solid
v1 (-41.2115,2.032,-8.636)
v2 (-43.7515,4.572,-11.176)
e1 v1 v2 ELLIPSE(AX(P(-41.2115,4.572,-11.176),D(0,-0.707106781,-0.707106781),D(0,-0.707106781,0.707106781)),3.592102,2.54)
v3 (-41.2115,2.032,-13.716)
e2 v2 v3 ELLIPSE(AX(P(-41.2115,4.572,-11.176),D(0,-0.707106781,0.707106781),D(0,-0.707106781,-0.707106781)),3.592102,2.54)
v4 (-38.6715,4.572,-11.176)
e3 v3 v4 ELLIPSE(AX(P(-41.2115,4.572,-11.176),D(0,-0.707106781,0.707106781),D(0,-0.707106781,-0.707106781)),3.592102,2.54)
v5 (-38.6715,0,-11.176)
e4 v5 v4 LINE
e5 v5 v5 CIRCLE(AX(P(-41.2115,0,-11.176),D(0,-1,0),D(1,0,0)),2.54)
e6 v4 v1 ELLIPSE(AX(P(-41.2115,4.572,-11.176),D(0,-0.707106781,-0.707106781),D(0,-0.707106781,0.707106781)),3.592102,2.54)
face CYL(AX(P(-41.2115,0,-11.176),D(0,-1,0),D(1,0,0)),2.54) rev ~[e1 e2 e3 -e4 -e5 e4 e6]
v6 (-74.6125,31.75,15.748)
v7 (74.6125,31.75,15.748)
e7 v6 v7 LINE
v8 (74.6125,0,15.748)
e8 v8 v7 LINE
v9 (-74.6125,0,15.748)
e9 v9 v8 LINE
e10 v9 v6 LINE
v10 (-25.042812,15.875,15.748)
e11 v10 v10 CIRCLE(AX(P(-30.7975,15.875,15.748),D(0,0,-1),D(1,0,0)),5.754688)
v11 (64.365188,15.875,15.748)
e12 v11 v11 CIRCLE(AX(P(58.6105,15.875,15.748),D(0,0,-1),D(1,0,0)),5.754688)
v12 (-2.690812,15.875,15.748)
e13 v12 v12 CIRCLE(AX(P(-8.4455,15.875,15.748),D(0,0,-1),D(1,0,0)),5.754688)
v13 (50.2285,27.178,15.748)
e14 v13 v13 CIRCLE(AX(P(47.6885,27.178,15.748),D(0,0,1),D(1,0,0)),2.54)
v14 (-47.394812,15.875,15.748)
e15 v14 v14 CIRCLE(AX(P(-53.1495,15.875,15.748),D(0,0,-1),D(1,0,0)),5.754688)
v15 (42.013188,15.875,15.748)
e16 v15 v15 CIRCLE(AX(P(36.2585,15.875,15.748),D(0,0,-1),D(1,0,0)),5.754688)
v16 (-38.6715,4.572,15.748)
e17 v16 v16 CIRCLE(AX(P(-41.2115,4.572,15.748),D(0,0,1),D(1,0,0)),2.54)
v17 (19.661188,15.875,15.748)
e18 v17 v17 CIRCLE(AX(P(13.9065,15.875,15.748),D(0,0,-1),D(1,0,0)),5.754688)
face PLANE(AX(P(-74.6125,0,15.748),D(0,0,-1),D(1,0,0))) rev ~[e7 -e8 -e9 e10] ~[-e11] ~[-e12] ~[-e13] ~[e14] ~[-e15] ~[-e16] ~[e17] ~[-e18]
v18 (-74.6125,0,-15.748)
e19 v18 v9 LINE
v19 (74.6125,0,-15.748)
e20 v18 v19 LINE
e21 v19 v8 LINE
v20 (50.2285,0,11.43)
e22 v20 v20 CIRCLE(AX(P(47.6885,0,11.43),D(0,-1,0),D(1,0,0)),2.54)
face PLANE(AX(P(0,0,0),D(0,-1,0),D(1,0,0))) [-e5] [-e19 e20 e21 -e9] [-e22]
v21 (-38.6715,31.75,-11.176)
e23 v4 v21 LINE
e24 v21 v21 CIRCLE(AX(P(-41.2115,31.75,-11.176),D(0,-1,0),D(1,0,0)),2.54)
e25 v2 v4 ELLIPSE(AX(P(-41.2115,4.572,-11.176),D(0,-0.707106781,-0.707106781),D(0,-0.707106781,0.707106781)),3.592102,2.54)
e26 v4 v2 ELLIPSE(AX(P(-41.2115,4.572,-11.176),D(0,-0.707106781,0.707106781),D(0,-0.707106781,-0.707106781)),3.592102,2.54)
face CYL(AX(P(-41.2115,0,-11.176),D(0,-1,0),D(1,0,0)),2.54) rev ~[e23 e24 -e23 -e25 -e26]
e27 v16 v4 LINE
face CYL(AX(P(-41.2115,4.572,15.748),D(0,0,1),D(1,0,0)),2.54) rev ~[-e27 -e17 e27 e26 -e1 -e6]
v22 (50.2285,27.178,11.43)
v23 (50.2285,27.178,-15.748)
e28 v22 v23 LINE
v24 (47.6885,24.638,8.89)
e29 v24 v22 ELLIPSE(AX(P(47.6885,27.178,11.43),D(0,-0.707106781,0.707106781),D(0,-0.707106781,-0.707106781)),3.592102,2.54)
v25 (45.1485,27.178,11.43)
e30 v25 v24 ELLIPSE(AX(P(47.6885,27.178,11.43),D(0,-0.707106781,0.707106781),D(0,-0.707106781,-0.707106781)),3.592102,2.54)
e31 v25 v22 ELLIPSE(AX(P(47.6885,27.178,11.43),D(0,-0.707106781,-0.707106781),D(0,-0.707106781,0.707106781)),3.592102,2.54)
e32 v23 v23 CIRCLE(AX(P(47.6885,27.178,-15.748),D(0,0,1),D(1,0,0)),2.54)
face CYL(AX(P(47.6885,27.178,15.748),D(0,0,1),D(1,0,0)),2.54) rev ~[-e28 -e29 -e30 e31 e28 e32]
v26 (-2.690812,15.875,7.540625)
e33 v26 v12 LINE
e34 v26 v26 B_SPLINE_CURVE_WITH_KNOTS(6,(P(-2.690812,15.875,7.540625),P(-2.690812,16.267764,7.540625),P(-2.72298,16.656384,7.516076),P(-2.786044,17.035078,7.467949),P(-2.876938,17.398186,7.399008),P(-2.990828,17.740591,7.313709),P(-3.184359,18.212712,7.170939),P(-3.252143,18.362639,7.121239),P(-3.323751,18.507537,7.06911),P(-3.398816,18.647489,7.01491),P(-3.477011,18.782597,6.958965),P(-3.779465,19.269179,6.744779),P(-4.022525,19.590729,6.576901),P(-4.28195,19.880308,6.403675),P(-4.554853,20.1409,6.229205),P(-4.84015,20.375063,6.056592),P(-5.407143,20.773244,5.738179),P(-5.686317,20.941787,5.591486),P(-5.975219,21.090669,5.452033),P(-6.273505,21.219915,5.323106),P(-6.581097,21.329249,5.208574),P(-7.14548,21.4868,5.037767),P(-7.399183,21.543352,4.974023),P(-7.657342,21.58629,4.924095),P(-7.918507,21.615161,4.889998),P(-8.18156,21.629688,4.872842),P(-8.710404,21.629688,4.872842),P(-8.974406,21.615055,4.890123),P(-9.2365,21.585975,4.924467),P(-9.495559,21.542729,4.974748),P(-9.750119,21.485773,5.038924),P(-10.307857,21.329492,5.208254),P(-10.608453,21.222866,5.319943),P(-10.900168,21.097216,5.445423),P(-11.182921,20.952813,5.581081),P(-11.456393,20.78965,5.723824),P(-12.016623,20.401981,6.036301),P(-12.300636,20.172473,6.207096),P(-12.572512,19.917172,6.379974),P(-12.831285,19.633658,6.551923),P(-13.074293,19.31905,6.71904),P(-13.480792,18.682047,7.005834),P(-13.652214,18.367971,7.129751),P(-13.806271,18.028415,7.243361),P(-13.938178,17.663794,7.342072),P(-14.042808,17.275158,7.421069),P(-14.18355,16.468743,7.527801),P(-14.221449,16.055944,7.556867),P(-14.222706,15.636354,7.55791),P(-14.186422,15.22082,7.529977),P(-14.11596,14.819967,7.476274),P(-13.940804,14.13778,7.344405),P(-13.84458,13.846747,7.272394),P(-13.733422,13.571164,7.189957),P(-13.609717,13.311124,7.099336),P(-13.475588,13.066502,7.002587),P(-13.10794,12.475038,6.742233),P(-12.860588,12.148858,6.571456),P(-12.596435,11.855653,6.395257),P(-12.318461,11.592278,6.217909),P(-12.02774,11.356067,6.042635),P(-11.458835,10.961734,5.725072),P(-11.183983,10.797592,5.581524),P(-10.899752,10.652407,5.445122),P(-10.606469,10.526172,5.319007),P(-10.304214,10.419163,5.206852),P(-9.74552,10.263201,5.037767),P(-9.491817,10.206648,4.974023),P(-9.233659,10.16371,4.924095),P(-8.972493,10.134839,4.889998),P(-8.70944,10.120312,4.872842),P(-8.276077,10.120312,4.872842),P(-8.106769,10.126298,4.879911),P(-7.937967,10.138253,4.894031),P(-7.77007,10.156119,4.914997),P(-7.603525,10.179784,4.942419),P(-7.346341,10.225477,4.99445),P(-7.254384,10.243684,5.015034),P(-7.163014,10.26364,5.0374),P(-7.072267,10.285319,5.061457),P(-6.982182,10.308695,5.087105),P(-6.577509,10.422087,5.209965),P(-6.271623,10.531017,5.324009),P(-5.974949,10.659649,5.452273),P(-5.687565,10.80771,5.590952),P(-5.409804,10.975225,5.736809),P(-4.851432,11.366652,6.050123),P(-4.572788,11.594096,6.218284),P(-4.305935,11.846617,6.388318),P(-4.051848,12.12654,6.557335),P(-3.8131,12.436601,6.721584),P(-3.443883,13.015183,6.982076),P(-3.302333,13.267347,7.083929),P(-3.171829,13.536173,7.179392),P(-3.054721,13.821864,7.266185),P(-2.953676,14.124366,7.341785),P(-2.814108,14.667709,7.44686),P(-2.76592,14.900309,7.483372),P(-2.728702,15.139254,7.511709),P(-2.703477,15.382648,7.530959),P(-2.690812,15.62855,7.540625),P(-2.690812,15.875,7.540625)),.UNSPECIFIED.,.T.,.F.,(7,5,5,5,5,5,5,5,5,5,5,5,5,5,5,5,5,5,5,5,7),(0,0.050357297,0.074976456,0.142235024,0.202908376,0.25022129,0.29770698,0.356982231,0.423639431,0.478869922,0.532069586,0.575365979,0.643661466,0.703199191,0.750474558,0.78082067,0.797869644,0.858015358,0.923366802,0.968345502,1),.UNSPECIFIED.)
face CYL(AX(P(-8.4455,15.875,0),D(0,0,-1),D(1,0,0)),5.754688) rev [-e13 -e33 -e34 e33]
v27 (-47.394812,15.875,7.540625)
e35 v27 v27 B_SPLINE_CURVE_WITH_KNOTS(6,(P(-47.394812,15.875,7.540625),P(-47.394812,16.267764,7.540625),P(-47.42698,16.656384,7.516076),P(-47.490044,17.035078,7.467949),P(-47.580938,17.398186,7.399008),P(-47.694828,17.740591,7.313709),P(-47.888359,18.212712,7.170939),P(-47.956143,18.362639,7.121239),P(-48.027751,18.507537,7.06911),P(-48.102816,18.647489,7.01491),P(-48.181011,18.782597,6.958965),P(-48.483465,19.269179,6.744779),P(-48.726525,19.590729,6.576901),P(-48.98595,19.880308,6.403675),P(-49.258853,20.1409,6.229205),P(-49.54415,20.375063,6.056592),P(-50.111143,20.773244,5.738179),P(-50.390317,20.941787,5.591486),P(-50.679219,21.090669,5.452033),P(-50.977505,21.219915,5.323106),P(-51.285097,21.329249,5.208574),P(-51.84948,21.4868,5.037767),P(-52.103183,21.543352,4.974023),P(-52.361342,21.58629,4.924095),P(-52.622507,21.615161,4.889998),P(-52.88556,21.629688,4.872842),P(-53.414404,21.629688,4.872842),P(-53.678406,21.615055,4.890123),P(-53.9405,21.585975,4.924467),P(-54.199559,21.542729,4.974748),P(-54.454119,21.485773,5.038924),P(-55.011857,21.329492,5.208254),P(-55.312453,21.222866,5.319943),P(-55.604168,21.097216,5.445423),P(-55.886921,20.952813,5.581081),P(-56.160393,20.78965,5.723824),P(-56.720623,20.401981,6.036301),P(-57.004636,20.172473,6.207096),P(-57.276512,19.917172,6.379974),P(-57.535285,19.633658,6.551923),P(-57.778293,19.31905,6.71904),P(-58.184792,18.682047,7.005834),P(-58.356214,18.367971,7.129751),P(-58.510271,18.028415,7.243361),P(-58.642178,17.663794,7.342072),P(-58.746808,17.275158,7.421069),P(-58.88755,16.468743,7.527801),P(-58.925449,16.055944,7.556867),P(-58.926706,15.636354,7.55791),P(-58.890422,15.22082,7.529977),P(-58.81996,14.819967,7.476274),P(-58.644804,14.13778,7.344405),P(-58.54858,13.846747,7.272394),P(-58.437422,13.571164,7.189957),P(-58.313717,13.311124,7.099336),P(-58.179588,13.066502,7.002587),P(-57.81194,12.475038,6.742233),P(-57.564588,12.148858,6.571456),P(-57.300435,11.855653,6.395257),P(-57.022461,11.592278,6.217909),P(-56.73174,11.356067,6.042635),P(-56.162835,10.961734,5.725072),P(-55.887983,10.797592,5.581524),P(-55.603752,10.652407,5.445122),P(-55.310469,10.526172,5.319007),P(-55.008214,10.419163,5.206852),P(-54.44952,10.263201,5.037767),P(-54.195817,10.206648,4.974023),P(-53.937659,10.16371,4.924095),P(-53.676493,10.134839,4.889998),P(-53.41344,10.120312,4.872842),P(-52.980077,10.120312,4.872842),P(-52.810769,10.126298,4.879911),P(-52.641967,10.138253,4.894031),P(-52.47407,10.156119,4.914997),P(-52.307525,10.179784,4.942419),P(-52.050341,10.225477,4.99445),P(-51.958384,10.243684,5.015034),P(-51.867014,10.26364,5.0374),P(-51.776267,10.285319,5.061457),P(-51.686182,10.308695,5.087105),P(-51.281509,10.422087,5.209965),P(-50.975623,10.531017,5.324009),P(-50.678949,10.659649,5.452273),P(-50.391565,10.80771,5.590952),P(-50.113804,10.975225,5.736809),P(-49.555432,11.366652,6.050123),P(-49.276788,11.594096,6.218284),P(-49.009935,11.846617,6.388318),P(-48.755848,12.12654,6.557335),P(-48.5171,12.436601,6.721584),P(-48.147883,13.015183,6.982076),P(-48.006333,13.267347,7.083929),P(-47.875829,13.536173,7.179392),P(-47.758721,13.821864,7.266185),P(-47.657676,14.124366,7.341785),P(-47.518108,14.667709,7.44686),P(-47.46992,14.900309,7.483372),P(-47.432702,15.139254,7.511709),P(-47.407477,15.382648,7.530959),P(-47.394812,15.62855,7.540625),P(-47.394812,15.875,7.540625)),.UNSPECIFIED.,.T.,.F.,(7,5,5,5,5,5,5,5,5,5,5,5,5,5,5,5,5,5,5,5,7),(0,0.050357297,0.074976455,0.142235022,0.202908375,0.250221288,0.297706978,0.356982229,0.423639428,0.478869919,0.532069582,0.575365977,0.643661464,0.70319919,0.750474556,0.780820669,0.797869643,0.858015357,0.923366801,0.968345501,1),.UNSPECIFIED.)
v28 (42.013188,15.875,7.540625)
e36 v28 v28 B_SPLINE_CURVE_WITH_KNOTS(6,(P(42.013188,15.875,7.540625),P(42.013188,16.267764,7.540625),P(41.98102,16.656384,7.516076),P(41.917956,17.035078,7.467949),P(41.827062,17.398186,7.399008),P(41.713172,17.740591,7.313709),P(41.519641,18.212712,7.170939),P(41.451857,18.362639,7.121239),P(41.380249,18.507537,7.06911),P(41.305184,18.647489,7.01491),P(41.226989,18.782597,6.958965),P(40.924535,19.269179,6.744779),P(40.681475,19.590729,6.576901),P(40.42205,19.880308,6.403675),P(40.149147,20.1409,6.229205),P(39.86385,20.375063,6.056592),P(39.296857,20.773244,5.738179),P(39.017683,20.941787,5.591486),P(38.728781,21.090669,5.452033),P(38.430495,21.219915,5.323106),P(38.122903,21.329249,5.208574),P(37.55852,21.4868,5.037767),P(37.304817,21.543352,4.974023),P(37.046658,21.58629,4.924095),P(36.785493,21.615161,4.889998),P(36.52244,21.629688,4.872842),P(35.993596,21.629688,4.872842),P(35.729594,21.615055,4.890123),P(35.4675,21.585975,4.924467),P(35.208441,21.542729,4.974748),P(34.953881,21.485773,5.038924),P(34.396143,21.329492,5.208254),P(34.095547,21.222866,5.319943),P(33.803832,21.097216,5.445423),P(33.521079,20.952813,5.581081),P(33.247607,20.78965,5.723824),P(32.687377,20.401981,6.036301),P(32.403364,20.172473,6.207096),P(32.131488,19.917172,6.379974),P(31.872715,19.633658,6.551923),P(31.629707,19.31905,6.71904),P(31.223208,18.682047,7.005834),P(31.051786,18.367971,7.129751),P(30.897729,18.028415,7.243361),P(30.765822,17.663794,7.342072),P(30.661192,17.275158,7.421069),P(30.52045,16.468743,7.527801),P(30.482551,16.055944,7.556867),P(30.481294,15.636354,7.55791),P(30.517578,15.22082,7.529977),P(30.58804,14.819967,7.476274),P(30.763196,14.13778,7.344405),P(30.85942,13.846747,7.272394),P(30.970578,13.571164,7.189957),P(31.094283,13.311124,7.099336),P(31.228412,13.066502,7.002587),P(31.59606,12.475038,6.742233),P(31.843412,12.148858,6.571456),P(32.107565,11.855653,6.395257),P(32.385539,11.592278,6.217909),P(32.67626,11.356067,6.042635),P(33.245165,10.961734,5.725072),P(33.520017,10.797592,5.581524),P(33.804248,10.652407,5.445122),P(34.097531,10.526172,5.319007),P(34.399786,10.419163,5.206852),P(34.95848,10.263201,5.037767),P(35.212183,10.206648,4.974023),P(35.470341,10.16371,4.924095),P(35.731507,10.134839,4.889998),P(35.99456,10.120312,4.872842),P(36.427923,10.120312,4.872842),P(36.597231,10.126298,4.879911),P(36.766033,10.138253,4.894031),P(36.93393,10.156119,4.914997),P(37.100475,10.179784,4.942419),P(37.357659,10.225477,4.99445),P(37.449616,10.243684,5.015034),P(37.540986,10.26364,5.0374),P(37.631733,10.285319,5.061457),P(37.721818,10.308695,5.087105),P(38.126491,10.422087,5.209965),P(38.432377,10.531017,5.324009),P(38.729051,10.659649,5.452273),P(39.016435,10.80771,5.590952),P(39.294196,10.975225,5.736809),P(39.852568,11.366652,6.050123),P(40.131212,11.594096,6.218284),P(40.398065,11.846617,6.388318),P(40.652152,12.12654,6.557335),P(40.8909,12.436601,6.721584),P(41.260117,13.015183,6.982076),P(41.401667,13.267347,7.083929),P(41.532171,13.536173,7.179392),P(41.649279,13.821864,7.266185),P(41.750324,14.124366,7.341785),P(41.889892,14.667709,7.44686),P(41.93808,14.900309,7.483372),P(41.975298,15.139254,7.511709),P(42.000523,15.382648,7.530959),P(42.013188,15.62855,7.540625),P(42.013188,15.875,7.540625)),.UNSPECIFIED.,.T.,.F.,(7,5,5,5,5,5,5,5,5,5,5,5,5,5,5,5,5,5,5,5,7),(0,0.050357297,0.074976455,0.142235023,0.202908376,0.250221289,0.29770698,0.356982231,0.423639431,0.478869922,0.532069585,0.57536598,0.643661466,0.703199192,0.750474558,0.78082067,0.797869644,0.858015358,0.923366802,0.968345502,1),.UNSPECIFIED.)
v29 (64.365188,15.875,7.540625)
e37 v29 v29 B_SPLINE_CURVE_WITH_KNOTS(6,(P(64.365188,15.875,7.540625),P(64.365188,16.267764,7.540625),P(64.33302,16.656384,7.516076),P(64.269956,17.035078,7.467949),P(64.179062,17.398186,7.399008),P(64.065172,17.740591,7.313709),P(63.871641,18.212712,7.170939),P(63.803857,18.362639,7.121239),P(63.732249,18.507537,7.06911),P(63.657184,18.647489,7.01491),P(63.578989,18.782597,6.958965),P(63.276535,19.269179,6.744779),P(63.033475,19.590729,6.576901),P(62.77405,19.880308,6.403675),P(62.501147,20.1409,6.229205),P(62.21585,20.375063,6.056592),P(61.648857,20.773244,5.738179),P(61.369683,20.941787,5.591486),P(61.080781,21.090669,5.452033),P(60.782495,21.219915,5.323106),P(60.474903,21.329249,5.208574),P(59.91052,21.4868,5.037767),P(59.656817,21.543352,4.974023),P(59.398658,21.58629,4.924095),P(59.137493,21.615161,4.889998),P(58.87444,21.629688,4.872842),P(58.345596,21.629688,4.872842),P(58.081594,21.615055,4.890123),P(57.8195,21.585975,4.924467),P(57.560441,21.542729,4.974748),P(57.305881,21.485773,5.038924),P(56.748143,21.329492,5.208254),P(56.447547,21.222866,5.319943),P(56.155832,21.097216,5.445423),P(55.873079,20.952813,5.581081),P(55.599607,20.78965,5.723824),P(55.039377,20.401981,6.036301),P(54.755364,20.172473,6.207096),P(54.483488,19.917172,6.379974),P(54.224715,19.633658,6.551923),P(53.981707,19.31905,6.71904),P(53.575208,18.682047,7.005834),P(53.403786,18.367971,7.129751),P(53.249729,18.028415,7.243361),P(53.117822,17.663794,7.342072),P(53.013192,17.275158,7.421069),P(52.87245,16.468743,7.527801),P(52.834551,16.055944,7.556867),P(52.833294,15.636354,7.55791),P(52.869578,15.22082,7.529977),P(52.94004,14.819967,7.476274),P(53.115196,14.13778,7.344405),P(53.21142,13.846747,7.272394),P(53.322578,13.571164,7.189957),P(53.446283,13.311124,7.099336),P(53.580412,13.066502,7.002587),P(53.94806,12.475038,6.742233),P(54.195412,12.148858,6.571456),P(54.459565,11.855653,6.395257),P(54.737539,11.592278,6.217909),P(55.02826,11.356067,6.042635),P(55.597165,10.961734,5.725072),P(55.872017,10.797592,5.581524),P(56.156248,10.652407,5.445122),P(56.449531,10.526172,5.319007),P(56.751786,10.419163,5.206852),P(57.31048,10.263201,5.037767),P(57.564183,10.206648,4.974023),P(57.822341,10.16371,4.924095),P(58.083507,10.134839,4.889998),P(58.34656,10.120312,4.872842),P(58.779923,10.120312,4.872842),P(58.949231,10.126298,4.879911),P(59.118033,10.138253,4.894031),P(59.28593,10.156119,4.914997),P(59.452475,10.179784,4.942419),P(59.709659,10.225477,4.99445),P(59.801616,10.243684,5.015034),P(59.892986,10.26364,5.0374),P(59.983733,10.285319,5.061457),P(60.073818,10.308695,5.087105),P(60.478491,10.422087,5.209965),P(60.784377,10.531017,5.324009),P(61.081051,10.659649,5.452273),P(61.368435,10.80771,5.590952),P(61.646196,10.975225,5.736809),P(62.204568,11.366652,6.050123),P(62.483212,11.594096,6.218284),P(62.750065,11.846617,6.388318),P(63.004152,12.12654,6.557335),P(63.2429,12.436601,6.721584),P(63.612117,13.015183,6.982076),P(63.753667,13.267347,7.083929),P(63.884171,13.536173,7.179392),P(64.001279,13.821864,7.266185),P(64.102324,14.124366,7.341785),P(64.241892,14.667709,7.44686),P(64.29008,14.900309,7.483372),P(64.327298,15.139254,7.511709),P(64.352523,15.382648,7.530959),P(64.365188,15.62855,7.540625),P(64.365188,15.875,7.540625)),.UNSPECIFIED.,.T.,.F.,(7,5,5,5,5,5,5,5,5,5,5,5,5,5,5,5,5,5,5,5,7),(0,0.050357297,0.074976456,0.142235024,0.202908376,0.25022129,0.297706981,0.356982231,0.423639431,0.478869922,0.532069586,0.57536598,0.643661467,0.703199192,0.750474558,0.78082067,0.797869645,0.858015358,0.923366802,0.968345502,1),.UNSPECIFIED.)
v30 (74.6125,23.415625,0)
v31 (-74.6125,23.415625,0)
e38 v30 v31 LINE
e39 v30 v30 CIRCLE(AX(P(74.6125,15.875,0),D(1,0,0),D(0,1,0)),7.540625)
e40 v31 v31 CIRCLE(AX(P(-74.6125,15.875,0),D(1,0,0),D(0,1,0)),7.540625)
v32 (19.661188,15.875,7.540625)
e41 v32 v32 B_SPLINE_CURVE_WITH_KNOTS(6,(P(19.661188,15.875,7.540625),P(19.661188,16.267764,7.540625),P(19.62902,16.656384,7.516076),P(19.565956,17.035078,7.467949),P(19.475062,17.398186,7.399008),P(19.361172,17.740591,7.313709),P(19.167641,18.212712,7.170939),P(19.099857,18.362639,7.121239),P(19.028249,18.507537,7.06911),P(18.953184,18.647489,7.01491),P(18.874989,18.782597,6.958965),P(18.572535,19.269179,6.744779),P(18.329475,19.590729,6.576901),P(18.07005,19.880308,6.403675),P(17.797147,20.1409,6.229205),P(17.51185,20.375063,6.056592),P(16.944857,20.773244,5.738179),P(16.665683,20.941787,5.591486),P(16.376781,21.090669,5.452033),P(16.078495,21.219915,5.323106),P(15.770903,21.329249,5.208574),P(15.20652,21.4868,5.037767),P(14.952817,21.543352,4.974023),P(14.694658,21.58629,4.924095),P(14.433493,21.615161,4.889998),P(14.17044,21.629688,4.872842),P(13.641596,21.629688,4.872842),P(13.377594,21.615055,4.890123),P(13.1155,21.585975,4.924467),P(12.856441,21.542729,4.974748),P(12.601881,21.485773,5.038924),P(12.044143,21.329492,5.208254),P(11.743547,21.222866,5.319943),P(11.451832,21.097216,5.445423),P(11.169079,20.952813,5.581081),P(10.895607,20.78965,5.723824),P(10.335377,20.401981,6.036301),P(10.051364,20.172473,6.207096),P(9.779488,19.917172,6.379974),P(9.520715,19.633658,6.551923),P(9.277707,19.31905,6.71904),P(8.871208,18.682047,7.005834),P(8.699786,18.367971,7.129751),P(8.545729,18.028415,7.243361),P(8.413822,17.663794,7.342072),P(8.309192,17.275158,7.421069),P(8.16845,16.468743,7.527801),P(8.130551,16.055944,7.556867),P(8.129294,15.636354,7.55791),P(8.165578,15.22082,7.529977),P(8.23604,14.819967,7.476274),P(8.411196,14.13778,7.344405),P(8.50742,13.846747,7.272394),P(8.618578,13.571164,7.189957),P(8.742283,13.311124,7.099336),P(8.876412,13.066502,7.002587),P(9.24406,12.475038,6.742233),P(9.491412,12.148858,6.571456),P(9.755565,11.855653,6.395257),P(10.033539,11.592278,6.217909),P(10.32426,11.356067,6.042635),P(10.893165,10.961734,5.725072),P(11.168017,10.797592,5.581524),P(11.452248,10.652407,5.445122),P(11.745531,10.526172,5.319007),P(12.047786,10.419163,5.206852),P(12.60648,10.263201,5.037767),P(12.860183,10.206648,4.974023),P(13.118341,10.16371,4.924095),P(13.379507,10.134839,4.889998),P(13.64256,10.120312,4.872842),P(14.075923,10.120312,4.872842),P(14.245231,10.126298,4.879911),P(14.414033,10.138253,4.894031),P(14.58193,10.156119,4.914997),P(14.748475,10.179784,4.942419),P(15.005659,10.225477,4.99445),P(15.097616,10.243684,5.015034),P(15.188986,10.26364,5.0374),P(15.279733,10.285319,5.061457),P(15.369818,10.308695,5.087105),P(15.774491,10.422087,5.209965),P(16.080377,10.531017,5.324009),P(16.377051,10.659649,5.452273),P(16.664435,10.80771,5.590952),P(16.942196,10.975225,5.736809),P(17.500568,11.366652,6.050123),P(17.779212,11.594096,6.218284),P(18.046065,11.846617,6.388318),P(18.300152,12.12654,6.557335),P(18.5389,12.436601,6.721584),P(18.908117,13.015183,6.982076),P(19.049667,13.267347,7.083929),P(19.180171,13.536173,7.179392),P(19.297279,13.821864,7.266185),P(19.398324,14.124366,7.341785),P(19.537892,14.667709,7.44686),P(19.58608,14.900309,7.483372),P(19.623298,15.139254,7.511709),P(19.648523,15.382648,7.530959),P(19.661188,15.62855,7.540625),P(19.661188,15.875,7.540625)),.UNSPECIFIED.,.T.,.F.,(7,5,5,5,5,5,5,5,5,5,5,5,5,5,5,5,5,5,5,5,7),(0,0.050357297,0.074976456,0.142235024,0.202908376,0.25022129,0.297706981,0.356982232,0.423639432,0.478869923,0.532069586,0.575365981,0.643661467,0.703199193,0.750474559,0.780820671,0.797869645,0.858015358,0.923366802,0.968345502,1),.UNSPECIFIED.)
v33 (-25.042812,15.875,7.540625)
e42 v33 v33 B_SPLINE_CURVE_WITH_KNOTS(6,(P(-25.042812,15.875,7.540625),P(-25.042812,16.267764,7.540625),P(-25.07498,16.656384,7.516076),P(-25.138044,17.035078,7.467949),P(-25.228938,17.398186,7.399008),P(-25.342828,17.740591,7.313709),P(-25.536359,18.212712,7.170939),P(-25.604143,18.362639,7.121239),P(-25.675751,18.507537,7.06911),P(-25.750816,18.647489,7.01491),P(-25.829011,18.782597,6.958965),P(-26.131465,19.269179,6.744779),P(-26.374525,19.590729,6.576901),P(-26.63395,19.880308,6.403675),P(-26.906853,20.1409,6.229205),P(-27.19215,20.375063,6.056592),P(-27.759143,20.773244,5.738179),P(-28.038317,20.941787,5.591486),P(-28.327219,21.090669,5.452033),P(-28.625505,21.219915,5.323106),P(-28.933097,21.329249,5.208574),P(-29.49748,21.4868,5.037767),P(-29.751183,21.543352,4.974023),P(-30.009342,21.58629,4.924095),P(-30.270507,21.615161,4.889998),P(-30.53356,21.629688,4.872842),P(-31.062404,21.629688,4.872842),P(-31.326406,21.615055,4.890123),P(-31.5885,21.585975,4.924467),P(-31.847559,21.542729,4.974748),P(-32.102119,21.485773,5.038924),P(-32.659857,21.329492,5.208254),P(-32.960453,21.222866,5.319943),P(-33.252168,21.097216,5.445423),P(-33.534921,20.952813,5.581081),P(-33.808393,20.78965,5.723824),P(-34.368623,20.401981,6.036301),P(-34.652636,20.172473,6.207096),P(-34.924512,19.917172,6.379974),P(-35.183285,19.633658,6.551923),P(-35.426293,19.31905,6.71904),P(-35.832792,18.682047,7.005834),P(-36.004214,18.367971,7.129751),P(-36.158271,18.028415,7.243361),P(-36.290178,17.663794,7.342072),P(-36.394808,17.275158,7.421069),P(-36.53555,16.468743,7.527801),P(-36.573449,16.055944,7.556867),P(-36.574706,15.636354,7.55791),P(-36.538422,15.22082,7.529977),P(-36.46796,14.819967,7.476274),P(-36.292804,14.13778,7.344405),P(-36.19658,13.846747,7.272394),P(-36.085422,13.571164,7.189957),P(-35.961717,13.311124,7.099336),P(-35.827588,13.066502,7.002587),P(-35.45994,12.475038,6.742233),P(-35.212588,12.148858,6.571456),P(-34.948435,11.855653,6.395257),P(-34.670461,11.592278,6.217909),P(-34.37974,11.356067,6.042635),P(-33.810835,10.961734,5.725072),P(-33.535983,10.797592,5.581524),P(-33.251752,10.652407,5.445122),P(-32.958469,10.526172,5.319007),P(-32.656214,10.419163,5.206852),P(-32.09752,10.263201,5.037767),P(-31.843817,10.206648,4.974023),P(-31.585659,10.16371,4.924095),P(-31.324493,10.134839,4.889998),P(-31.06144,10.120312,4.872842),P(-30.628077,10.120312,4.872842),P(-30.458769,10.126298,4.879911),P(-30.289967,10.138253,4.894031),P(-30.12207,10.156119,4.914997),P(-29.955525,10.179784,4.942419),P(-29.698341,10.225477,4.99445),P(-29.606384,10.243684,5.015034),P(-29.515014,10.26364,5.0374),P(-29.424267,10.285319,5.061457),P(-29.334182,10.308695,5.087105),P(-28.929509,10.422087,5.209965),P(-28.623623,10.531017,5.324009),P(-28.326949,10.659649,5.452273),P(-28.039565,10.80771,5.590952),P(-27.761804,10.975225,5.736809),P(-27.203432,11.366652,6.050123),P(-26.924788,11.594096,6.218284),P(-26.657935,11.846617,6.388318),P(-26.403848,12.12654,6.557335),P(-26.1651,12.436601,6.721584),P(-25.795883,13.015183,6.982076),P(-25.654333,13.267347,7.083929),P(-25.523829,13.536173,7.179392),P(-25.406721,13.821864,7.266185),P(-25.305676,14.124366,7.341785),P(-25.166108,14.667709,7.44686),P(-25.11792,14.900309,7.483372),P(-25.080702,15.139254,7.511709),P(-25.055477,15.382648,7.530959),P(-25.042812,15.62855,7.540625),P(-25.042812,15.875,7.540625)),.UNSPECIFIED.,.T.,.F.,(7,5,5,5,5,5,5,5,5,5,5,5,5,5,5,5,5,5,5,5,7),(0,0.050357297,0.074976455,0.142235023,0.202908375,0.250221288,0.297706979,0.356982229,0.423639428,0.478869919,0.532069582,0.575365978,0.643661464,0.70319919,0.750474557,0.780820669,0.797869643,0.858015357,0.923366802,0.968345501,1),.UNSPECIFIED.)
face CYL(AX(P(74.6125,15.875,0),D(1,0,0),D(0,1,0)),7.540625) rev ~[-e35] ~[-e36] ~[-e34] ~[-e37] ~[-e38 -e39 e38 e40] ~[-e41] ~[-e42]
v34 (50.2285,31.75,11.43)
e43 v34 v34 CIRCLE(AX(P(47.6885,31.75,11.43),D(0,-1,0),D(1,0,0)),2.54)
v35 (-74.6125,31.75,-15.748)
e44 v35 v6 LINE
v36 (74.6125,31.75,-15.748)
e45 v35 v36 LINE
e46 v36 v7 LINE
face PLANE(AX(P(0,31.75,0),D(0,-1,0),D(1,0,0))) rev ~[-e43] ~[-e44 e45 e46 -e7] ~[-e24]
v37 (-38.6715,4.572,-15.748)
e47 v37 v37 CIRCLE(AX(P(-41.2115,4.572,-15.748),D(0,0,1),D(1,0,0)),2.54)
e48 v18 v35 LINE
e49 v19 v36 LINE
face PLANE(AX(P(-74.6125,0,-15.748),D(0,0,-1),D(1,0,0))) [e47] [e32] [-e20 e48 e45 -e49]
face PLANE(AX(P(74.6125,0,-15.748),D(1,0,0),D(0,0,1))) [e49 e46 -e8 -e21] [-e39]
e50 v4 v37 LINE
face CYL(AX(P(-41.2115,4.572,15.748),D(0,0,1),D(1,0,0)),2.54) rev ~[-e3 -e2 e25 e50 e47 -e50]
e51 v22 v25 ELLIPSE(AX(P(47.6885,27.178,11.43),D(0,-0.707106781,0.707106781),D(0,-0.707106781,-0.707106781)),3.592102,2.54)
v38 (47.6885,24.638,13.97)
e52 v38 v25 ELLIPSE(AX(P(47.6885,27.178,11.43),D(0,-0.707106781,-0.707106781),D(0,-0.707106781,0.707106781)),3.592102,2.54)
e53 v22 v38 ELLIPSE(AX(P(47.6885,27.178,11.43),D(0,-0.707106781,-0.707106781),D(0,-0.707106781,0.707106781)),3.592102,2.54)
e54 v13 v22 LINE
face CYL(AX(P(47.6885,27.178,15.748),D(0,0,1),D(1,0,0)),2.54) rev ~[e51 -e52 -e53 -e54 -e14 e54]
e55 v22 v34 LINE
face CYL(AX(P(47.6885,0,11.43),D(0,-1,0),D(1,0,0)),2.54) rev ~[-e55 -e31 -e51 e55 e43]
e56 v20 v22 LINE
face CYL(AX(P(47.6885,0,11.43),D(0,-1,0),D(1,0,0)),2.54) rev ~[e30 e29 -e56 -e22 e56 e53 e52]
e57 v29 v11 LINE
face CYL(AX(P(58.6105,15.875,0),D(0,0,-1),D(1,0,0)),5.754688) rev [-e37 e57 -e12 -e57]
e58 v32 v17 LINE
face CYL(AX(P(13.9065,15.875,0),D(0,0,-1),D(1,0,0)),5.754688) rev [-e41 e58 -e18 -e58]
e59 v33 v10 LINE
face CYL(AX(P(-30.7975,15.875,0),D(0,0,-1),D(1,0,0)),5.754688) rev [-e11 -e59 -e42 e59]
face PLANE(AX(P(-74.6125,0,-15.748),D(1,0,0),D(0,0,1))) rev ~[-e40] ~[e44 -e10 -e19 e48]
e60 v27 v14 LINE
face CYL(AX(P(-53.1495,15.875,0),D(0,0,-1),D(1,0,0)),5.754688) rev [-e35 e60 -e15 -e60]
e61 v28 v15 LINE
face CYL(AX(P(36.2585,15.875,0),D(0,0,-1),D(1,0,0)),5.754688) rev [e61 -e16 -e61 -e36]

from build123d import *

# Parameters (mm, degrees)
F0_W     = 149.225
F0_H     = 31.496
F1_DEPTH = 31.75
F2_R     = 5.754688
F3_DEPTH = 15.875
F4_R     = 7.540625
F5_DEPTH = 149.226
F6_R     = 2.54
F7_DEPTH = 31.751
F8_R     = 2.54
F9_DEPTH = 31.497


with BuildPart() as f1:
    # F0 (on Front) → F1 (new body)
    with BuildSketch(Plane.XZ):
        Rectangle(F0_W, F0_H)
    extrude(amount=-F1_DEPTH)

    # F2 (on Top) → F3 (cut)
    with BuildSketch(Plane.XY):
        with Locations((-53.1495, 15.875)):
            Circle(F2_R)
        with Locations((-30.7975, 15.875)):
            Circle(F2_R)
        with Locations((-8.4455, 15.875)):
            Circle(F2_R)
        with Locations((13.9065, 15.875)):
            Circle(F2_R)
        with Locations((36.2585, 15.875)):
            Circle(F2_R)
        with Locations((58.6105, 15.875)):
            Circle(F2_R)
    extrude(amount=F3_DEPTH, mode=Mode.SUBTRACT)

    # F4 (on face) → F5 (cut, through all)
    with BuildSketch(Plane.YZ.offset(74.6125)):
        with Locations((15.875, 0)):
            Circle(F4_R)
    extrude(amount=-F5_DEPTH, mode=Mode.SUBTRACT)

    # F6 (on face) → F7 (cut, through all)
    with BuildSketch(Plane.XZ):
        with Locations((-41.2115, -11.176)):
            Circle(F6_R)
        with Locations((47.6885, 11.43)):
            Circle(F6_R)
    extrude(amount=-F7_DEPTH, mode=Mode.SUBTRACT)

    # F8 (on face) → F9 (cut, through all)
    with BuildSketch(Plane.XY.offset(15.748)):
        with Locations((47.6885, 27.178)):
            Circle(F8_R)
        with Locations((-41.2115, 4.572)):
            Circle(F8_R)
    extrude(amount=-F9_DEPTH, mode=Mode.SUBTRACT)


solid = f1.part
